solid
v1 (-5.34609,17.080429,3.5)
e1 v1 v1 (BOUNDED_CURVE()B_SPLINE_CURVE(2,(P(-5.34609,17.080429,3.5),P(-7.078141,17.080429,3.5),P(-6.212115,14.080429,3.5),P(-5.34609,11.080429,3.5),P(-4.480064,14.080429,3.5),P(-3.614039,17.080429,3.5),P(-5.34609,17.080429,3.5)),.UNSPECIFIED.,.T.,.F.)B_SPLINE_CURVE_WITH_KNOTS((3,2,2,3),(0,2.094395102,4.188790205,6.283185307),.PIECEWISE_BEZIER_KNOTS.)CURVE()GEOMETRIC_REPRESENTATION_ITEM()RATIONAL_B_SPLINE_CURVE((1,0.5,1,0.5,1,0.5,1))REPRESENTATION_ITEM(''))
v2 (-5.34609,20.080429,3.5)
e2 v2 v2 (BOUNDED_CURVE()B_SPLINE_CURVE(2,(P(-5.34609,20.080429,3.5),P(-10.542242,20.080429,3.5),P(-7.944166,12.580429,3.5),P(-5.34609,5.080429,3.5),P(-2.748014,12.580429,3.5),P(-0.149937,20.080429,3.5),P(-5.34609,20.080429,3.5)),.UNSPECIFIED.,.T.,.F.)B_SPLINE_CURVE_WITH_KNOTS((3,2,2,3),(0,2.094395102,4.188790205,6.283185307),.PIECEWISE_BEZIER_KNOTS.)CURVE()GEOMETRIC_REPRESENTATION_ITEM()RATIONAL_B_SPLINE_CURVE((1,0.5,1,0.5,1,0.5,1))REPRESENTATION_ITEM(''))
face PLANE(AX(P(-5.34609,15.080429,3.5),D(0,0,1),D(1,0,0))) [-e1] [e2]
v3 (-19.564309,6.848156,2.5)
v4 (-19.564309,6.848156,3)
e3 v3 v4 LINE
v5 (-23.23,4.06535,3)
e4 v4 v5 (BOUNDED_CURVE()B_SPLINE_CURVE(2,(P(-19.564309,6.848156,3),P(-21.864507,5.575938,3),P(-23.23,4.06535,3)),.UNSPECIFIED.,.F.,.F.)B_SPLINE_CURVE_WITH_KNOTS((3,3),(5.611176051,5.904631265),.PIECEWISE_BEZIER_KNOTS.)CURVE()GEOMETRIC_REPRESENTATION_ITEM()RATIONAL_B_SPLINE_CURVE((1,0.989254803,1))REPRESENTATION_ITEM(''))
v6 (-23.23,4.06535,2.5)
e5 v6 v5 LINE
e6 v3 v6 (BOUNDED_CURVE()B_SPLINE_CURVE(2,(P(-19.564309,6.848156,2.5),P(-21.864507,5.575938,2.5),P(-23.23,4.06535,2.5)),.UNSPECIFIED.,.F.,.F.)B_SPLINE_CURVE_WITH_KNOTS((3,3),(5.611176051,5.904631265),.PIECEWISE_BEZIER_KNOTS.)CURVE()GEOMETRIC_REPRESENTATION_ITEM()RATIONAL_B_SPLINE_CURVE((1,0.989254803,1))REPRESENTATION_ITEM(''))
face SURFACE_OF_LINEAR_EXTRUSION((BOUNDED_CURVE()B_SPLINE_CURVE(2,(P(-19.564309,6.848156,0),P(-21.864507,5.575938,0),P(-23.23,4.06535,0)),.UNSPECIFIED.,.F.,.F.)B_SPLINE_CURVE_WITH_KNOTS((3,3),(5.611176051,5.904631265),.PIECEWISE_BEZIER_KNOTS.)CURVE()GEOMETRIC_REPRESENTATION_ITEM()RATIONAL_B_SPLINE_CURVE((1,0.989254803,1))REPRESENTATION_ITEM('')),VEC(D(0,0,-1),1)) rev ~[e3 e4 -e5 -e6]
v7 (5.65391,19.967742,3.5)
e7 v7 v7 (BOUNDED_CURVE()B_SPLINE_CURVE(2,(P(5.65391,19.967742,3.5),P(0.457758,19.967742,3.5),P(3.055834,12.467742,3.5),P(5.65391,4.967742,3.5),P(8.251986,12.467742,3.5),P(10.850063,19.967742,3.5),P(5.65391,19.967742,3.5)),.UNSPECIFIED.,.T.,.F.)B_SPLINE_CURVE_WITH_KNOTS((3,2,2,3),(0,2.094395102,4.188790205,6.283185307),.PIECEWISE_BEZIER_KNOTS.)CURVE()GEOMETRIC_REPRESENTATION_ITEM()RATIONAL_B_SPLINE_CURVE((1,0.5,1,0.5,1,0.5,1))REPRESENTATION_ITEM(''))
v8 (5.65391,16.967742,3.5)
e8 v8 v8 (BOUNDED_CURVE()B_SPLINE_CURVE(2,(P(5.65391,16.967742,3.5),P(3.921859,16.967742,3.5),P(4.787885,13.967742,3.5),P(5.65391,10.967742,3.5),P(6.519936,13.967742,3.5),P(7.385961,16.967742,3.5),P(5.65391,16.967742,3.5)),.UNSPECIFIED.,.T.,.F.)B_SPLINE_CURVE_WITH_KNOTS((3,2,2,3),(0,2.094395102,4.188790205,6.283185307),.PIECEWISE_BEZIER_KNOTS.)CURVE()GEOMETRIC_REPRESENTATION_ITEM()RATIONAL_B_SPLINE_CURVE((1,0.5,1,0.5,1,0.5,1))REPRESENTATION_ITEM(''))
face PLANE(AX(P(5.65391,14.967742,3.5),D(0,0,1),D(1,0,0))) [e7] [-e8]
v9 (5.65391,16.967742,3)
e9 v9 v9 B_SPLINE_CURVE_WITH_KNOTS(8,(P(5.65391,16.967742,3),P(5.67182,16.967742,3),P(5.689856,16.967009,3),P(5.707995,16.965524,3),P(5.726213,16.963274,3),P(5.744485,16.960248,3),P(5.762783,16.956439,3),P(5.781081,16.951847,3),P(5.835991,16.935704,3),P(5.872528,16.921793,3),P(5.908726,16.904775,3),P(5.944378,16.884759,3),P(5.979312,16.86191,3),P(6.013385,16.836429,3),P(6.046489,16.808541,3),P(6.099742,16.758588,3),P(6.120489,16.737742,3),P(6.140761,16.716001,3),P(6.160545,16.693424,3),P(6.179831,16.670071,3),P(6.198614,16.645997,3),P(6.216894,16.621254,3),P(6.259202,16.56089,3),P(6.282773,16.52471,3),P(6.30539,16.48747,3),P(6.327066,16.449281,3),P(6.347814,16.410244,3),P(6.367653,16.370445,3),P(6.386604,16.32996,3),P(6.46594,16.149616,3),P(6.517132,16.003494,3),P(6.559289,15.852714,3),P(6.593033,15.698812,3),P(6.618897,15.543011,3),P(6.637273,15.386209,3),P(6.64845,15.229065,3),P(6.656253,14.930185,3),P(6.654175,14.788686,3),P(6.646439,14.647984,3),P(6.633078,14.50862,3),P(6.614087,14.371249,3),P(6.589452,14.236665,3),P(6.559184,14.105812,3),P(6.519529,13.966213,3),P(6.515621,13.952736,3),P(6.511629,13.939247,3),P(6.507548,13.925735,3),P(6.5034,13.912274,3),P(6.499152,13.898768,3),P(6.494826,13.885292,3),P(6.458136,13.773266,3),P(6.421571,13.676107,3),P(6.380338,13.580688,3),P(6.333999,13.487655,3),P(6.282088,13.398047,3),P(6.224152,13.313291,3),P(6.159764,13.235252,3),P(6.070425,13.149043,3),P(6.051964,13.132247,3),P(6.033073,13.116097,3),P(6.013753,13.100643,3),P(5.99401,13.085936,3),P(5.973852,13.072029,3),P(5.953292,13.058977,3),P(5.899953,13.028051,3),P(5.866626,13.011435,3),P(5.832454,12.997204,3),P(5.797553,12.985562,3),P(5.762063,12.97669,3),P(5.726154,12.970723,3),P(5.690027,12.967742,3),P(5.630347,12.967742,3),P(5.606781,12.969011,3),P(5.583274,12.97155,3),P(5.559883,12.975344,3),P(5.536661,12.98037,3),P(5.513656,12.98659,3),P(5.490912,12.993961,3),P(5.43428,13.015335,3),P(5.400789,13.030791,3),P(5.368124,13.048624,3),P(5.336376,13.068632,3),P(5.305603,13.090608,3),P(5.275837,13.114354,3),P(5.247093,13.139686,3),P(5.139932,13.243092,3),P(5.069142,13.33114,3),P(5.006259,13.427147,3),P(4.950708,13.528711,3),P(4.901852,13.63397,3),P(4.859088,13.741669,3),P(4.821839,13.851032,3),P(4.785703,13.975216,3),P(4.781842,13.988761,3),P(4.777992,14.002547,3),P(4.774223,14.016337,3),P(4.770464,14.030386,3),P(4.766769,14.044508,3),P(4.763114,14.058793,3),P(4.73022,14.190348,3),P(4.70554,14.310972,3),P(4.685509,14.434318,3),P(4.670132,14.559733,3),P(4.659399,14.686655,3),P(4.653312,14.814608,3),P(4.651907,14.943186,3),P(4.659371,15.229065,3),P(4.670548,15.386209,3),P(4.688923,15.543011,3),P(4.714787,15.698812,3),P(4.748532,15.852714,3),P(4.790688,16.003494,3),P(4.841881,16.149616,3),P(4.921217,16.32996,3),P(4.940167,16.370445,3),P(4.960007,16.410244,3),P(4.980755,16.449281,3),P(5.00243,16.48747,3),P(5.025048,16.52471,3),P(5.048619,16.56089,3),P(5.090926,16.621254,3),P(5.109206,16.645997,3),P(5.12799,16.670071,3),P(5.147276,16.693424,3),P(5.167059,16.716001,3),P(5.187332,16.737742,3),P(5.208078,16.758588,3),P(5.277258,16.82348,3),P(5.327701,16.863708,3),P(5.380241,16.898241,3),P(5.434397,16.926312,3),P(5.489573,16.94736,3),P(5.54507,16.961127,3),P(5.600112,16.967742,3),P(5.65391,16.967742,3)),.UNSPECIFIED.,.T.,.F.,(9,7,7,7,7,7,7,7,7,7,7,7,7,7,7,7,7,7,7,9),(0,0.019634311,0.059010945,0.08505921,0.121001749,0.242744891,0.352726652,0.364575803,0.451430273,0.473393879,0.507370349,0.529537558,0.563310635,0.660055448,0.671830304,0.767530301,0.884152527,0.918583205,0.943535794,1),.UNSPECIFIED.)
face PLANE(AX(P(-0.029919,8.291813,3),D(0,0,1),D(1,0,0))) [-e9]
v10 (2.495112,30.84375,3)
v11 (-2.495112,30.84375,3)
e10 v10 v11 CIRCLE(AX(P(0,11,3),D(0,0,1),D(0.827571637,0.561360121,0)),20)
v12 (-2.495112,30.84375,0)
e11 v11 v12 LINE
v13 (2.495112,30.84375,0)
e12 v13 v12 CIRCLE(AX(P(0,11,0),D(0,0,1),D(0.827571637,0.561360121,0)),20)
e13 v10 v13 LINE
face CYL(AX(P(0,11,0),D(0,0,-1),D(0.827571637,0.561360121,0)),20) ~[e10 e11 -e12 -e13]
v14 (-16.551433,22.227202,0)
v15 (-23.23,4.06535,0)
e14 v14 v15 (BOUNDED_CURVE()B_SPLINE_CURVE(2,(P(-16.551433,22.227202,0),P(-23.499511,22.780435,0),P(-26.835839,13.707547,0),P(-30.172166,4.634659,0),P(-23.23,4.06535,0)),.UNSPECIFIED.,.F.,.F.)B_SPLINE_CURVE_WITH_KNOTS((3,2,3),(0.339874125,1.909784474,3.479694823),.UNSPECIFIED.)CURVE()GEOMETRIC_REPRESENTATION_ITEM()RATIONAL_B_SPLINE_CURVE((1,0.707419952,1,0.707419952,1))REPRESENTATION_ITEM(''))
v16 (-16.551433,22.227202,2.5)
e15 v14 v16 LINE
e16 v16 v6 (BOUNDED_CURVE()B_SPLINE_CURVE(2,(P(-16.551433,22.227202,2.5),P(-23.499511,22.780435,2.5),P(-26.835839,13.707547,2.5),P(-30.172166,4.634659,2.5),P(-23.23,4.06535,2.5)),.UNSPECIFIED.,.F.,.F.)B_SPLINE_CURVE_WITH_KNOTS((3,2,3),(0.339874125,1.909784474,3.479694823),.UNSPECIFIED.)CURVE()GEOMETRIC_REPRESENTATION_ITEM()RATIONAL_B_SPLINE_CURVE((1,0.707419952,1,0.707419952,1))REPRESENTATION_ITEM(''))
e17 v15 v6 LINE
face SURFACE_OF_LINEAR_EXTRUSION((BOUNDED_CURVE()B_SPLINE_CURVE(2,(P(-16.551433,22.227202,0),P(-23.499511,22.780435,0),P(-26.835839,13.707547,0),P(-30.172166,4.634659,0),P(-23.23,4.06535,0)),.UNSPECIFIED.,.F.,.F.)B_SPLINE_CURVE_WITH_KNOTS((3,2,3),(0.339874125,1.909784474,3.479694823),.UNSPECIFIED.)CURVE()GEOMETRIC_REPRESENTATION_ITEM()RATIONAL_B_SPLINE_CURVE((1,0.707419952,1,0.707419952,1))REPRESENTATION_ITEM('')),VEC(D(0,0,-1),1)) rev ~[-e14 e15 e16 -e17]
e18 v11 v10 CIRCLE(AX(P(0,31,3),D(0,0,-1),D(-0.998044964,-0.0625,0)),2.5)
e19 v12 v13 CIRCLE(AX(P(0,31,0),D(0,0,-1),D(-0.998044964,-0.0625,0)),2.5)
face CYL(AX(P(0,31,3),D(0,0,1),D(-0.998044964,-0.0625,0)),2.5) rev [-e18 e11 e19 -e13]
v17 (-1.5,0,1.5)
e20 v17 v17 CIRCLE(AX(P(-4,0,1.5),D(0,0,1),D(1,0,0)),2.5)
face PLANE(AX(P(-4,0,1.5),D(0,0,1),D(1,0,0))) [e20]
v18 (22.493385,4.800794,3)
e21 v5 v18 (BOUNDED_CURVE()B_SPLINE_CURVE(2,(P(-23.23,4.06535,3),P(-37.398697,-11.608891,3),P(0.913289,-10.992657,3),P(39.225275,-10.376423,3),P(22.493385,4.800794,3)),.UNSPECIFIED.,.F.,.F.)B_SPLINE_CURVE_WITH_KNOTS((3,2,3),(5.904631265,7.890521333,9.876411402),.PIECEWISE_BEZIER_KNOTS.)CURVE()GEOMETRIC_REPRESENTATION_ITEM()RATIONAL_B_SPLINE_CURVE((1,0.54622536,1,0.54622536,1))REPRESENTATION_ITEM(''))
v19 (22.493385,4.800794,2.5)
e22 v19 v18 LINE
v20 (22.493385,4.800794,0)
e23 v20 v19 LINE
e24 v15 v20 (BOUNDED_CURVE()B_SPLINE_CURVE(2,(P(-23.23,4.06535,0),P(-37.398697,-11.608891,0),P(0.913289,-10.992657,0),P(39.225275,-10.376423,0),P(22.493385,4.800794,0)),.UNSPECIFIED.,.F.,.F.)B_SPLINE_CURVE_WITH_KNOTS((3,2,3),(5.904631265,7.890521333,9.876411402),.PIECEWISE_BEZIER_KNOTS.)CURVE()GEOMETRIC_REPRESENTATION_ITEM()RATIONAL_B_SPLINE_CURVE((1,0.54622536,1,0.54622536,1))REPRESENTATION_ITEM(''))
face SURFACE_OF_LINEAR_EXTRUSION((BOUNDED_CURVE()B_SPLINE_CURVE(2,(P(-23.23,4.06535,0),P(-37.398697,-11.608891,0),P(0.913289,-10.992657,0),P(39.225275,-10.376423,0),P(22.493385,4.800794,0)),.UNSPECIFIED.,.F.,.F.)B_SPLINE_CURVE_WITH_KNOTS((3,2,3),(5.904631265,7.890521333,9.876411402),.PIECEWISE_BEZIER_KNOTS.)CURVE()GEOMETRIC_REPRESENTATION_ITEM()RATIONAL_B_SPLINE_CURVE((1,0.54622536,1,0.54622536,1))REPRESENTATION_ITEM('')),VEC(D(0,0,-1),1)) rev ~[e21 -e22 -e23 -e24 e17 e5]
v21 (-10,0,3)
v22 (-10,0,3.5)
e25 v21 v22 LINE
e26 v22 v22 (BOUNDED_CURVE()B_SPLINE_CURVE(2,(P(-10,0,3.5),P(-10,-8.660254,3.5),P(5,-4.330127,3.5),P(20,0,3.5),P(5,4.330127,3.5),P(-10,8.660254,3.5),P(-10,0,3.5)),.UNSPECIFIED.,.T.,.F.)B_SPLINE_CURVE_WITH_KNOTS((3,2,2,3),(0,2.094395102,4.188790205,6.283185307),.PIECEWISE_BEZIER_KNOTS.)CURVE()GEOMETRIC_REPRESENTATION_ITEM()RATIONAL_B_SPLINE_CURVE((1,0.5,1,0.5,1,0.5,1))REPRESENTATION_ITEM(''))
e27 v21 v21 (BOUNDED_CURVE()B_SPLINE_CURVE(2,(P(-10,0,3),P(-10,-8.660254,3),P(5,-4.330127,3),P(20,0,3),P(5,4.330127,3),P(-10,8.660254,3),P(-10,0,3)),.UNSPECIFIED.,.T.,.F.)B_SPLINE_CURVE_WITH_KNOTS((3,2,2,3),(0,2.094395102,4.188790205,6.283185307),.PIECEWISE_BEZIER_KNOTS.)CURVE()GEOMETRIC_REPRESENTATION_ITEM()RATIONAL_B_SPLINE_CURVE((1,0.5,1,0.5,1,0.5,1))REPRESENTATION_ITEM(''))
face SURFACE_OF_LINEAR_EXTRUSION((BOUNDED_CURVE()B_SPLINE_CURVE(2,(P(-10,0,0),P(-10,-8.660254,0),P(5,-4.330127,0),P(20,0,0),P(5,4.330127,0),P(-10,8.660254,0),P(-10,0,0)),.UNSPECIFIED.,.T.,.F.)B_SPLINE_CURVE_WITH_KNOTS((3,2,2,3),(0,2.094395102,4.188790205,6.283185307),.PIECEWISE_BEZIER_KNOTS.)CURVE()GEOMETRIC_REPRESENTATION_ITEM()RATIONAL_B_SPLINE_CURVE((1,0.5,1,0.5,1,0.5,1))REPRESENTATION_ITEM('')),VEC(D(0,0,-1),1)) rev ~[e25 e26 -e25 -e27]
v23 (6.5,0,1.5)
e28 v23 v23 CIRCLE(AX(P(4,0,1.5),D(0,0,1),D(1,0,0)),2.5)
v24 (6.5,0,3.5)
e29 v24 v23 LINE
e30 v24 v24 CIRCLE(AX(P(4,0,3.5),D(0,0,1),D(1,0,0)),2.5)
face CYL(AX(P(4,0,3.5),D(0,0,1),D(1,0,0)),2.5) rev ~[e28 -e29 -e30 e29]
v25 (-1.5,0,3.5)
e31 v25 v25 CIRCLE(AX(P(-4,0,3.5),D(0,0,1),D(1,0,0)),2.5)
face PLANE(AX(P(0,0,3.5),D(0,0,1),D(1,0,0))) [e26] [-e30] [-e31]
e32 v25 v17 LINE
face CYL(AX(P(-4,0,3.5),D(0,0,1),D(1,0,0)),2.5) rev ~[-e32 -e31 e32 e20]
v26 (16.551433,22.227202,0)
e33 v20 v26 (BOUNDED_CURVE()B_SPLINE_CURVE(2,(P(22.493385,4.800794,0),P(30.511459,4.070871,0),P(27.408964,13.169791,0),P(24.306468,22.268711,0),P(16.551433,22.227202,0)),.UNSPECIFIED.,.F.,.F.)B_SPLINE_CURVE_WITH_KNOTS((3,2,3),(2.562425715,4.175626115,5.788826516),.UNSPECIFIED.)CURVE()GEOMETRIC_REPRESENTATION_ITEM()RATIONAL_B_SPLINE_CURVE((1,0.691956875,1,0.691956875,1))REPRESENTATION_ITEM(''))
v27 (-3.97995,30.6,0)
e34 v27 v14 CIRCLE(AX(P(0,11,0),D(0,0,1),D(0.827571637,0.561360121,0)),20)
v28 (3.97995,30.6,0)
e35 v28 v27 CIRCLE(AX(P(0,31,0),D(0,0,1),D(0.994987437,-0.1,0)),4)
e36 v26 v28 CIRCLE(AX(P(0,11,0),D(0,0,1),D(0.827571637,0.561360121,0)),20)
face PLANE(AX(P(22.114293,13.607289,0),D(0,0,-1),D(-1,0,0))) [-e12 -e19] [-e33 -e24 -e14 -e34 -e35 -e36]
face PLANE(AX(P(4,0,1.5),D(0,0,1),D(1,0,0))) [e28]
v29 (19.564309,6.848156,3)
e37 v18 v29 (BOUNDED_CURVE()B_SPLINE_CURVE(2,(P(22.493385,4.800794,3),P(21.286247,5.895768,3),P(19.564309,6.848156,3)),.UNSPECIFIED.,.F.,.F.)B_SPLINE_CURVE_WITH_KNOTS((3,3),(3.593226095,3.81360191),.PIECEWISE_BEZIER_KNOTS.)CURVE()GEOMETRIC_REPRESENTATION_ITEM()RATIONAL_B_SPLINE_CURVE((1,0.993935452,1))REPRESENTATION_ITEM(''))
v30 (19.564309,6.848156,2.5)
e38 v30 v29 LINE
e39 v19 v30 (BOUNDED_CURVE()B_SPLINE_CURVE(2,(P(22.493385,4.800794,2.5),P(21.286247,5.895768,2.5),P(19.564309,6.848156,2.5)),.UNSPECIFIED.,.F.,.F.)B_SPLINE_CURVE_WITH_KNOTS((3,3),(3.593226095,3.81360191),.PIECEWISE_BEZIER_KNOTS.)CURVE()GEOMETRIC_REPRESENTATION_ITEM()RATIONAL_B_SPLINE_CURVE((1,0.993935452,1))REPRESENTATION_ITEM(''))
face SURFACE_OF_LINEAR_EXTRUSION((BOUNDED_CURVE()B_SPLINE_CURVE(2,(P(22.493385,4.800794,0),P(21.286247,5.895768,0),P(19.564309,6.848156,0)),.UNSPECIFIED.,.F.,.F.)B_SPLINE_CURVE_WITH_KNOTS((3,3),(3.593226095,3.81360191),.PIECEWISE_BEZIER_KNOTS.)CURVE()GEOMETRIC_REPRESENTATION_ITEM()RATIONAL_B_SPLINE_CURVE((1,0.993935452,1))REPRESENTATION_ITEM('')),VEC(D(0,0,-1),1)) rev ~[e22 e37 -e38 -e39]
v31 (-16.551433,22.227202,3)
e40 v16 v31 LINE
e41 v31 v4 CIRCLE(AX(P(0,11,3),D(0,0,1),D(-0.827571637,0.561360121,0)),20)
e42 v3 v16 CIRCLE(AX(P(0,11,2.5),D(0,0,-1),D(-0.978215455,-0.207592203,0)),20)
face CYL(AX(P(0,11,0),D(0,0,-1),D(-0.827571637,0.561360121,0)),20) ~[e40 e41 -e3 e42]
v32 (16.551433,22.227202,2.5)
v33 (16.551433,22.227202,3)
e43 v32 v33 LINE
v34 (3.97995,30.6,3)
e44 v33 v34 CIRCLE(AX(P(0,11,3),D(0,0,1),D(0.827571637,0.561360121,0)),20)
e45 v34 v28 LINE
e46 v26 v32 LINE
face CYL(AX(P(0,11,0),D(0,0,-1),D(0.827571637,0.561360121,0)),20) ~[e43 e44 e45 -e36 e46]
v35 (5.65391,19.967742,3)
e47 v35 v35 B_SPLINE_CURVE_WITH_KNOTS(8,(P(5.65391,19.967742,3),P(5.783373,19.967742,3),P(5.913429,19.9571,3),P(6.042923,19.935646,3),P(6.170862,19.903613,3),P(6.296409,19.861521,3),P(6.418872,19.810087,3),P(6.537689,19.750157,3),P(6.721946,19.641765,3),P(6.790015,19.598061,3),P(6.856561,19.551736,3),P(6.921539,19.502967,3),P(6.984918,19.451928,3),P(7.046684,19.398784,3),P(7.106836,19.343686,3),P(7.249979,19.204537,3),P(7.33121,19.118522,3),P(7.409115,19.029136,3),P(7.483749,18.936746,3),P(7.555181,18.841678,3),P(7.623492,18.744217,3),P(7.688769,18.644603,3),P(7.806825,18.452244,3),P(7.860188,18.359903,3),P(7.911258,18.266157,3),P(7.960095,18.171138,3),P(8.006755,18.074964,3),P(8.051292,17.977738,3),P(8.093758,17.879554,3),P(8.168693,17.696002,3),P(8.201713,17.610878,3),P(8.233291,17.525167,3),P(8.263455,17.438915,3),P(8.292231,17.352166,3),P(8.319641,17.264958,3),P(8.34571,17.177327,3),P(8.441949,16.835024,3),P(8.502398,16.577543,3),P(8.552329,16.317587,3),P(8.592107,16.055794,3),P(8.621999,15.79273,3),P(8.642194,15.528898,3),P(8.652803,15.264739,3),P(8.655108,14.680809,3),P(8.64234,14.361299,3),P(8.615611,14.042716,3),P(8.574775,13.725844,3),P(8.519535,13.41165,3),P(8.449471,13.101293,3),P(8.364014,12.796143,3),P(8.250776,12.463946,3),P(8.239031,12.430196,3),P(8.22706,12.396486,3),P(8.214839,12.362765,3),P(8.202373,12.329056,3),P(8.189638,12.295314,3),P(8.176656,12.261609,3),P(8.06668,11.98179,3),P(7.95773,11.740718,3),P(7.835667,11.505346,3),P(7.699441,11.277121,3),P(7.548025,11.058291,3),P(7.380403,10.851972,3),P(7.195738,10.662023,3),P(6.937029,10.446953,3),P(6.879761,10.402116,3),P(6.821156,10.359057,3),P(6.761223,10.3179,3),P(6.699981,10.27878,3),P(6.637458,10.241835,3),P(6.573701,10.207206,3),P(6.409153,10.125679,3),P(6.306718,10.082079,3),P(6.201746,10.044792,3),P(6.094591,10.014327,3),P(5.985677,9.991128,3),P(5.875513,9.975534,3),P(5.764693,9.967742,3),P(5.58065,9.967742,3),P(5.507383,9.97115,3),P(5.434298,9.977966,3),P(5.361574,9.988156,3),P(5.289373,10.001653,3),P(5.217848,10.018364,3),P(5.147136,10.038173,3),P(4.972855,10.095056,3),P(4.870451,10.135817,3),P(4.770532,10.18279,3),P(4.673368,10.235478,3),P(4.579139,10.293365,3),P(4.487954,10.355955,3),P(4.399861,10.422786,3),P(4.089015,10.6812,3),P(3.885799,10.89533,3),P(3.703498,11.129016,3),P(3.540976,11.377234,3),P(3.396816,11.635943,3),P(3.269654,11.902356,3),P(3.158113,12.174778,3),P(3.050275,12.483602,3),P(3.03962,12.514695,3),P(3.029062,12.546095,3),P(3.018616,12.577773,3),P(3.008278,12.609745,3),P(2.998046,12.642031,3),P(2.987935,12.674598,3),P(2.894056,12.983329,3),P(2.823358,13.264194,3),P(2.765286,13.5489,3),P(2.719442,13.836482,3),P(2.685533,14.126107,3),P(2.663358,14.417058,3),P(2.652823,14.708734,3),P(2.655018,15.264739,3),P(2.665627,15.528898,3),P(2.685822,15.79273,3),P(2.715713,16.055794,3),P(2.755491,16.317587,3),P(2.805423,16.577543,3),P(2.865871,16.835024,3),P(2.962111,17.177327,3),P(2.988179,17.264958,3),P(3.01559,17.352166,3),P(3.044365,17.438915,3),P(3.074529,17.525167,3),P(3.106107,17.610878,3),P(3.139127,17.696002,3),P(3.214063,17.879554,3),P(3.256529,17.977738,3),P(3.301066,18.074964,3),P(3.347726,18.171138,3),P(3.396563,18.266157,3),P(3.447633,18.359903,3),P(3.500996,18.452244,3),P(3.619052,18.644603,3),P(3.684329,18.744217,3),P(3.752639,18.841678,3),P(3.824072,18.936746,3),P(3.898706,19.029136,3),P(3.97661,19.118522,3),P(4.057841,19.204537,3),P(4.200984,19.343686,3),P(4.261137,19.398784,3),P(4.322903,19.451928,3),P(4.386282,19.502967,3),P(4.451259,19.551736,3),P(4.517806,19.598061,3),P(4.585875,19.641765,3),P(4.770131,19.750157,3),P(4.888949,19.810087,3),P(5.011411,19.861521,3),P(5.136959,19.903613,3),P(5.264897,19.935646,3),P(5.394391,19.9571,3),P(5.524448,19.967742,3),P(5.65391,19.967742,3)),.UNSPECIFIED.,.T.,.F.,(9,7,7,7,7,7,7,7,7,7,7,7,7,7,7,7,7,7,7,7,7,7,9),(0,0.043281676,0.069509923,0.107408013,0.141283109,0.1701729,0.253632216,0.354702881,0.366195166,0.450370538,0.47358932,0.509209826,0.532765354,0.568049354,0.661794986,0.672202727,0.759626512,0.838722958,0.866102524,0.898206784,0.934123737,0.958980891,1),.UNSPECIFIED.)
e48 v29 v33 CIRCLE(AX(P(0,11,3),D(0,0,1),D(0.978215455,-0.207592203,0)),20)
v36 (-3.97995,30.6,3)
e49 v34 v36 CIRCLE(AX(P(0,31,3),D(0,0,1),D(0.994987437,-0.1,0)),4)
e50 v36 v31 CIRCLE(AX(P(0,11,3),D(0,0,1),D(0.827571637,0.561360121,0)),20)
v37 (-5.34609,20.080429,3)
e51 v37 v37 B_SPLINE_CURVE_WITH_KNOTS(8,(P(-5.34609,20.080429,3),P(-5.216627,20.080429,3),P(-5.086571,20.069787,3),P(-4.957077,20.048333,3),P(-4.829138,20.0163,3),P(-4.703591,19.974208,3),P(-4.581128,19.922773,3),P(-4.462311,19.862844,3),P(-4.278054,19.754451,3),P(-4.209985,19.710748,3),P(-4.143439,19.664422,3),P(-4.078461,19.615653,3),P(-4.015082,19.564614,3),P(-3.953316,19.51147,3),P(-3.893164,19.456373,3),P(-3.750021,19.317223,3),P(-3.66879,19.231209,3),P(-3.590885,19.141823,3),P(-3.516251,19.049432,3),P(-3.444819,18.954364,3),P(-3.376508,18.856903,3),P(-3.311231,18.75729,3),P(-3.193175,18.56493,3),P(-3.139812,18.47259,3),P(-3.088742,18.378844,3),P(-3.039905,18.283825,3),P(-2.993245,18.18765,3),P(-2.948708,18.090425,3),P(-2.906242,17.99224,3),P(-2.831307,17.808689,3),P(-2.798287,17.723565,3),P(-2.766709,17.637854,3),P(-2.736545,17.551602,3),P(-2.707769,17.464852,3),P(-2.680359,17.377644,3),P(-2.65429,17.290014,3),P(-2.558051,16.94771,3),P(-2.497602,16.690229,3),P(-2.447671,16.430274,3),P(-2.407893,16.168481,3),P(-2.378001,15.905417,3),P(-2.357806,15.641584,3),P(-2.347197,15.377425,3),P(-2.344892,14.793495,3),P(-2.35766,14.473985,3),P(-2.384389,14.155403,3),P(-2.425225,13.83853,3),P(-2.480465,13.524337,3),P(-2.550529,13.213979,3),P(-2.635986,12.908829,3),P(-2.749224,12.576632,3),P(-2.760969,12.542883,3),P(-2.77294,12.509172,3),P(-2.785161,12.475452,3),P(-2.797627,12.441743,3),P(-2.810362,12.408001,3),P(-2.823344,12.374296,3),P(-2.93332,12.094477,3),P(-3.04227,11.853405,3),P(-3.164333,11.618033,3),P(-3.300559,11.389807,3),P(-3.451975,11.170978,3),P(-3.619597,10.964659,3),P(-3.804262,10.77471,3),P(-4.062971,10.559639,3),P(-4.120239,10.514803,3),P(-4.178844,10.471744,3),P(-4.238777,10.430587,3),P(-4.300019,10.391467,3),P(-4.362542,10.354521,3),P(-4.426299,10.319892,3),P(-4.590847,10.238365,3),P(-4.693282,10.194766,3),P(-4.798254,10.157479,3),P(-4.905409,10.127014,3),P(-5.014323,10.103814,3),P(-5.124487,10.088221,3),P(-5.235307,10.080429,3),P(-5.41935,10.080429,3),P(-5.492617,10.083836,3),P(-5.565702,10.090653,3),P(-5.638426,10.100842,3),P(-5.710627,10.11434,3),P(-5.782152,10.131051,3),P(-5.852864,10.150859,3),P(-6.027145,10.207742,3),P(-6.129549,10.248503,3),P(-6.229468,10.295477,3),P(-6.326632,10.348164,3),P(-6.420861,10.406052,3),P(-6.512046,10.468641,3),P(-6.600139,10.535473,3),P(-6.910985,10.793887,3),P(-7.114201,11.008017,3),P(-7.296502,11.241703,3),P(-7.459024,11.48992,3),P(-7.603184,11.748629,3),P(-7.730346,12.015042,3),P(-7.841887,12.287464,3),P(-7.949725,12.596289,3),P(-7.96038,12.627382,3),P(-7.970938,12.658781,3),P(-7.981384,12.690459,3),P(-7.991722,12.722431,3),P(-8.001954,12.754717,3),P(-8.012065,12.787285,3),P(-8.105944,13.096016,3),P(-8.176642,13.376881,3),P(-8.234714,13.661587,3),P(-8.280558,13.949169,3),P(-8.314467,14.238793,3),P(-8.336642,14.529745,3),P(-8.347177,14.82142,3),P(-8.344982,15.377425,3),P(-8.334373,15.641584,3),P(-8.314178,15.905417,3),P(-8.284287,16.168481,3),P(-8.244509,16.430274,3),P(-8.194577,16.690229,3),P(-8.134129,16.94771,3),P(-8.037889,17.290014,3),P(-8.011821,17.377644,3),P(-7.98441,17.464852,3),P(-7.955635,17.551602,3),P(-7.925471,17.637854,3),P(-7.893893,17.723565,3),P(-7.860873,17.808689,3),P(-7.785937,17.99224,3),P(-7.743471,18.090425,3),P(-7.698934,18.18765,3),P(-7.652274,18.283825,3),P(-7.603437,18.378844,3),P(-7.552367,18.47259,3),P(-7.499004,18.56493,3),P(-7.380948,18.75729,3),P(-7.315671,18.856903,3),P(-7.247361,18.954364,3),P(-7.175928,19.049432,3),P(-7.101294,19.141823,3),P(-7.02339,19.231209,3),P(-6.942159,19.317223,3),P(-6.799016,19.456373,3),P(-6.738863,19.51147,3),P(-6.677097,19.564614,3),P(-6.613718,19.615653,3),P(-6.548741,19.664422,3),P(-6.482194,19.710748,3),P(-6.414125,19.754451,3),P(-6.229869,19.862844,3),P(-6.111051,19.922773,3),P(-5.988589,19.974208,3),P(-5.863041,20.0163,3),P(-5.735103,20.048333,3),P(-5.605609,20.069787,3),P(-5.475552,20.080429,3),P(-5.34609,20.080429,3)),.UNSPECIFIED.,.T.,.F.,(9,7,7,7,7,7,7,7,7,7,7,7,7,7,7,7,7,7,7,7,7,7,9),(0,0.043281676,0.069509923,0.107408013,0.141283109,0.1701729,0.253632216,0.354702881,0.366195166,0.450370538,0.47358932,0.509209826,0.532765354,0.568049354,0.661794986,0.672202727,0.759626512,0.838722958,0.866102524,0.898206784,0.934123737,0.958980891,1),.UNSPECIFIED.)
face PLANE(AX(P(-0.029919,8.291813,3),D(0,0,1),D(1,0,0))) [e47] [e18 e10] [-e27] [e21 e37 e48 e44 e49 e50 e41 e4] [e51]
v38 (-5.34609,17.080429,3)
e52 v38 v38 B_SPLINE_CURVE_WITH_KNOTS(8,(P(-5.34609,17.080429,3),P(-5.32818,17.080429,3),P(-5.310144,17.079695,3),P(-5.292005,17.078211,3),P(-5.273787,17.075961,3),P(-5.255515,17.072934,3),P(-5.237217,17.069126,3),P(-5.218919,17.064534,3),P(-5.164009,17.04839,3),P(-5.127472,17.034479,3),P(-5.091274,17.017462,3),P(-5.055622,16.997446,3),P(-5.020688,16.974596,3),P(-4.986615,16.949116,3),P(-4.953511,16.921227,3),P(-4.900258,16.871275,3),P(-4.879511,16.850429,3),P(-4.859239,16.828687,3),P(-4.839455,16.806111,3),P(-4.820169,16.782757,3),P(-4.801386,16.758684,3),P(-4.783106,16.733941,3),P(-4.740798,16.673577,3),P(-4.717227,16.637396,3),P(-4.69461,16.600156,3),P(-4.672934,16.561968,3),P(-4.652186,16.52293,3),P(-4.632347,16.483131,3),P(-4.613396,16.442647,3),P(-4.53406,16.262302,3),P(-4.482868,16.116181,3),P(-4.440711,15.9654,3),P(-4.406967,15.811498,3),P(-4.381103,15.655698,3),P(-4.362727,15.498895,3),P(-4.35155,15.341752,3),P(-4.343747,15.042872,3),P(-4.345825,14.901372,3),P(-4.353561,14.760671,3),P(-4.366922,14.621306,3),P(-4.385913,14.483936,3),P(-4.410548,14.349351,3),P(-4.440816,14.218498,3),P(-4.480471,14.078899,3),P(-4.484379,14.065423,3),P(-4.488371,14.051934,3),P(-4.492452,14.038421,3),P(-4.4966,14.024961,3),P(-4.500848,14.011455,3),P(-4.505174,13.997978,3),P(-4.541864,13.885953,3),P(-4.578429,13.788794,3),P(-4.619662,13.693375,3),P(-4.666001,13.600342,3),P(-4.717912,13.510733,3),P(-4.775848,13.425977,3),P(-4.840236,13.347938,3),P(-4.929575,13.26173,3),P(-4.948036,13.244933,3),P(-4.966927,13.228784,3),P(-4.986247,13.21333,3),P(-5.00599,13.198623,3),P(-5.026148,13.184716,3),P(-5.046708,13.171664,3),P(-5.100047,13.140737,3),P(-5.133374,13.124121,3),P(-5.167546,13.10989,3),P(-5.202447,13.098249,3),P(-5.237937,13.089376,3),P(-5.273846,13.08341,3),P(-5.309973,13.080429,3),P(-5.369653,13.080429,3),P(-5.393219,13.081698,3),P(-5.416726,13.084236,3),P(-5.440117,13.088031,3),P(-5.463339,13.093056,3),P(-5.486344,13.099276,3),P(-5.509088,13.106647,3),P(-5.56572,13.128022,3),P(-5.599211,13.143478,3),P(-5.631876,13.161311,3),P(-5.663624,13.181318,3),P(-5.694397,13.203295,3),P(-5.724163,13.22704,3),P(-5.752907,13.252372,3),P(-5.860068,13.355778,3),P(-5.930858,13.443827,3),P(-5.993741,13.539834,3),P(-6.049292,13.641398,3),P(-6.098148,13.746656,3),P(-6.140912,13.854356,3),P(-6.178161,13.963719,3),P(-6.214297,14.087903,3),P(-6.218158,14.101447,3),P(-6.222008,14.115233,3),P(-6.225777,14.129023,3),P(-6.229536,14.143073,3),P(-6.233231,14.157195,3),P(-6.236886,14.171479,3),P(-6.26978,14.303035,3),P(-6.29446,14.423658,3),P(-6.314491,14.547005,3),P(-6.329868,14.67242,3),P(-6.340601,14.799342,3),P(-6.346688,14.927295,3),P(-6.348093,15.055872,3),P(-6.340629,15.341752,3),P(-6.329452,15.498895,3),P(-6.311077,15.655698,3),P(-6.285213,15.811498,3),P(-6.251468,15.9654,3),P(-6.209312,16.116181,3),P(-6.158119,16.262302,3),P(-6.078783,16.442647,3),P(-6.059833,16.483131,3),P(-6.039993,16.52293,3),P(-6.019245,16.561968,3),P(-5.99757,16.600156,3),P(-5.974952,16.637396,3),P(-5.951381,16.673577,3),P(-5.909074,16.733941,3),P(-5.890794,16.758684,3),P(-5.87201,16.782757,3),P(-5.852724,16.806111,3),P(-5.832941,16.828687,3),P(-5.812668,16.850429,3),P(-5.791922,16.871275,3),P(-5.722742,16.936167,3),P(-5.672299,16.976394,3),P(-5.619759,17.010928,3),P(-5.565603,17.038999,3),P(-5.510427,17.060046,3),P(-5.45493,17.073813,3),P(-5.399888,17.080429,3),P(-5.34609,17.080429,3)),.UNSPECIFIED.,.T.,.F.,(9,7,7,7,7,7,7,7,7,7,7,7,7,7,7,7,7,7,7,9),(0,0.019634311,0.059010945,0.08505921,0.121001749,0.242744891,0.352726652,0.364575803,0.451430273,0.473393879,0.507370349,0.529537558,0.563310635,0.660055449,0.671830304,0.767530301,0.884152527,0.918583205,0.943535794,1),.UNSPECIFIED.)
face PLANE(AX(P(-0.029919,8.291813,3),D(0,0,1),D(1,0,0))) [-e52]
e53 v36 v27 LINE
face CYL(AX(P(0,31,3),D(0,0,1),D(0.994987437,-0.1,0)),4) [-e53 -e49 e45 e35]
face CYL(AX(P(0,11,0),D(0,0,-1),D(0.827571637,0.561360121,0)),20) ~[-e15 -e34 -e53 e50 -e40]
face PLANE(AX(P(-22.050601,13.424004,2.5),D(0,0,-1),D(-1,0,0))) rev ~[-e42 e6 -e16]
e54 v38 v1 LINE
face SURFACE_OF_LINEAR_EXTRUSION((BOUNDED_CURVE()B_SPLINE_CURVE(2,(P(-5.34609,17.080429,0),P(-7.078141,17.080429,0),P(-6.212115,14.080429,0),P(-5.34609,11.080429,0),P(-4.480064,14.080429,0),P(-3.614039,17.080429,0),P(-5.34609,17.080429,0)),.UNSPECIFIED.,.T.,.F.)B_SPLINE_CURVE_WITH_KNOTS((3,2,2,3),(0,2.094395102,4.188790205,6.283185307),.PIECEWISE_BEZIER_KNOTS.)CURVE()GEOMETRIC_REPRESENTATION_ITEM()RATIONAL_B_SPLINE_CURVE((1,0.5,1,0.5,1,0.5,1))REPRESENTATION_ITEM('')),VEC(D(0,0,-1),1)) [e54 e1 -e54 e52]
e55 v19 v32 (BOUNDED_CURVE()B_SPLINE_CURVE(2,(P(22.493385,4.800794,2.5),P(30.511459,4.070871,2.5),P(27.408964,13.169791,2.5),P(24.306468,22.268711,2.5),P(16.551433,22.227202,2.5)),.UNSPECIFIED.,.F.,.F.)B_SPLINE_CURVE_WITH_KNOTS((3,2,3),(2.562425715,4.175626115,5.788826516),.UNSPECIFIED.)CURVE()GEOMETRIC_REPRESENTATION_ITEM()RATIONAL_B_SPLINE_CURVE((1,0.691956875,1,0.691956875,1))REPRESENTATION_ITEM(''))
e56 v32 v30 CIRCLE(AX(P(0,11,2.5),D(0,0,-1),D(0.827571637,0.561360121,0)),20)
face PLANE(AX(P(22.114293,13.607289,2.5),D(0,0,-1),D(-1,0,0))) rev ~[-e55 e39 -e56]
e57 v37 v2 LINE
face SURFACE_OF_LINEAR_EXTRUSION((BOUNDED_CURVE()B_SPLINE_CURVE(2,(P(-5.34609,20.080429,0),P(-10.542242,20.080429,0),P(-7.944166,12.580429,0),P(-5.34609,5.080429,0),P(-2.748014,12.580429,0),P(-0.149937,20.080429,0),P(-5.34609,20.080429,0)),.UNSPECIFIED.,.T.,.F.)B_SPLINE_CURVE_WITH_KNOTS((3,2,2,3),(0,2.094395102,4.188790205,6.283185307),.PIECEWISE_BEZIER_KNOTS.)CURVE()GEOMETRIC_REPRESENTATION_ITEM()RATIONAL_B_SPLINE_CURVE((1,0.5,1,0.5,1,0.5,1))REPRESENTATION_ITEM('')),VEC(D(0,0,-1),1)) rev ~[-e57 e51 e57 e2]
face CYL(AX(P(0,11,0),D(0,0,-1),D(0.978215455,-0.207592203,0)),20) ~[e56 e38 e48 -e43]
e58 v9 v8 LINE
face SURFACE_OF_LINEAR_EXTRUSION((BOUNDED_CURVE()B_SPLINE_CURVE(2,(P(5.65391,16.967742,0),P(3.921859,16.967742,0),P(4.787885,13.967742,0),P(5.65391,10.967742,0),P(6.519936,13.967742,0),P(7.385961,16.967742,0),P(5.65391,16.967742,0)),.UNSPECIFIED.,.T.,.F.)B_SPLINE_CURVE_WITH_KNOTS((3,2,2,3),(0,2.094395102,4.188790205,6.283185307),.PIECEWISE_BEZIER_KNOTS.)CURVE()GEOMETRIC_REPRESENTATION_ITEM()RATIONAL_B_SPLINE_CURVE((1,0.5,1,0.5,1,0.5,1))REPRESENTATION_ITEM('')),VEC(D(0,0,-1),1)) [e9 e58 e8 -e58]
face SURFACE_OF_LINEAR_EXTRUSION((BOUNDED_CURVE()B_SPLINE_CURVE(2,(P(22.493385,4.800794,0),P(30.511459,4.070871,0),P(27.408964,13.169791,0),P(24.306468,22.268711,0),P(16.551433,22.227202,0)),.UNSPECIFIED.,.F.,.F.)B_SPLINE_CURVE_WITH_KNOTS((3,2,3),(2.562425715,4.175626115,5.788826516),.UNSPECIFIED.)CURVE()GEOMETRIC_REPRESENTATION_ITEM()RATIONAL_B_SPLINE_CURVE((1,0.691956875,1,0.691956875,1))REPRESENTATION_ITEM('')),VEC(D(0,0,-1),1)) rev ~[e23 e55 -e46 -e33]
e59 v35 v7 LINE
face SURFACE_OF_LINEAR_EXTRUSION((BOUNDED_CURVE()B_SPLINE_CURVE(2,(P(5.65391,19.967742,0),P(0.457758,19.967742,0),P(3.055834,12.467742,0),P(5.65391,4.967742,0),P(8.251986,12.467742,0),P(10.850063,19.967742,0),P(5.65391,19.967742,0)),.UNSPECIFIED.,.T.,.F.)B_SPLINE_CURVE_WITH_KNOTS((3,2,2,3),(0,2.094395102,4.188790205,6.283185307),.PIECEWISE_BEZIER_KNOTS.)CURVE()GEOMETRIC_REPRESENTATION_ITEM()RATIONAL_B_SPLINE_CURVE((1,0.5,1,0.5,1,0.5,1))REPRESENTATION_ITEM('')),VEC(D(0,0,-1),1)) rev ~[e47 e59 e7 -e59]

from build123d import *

# Parameters (mm, degrees)
F2_DEPTH  = 3
F3_DEPTH  = 3.5
F4_DEPTH  = 2.5
F6_DEPTH  = 3.5
F7_DEPTH  = 1
F8_R      = 2.5
F9_DEPTH  = 2
F11_DEPTH = 3


with BuildPart() as f2:
    # F0 (on Top) → F2 (new body)
    with BuildSketch(Plane.XY):
        with BuildLine():
            ThreePointArc((-16.5514327476, 22.2272024121), (-19.6269067874, 14.845065664), (-19.5643091096, 6.8481559441))
            add(Edge.make_bspline(
                [(-19.5643091096, 6.8481559441), (-21.8645069568, 5.5759382833), (-23.23, 4.0653499923)],
                knots=[5.6111760506, 5.6111760506, 5.6111760506, 5.9046312652, 5.9046312652, 5.9046312652], degree=2, weights=[1, 0.9892548032, 1]))
            add(Edge.make_bspline(
                [(-23.23, 4.0653499923), (-37.3986969508, -11.6088914976), (0.9132892277, -10.992657494), (39.2252754062, -10.3764234903), (22.4933852711, 4.8007935852)],
                knots=[5.9046312652, 5.9046312652, 5.9046312652, 7.8905213335, 7.8905213335, 9.8764114018, 9.8764114018, 9.8764114018], degree=2, weights=[1, 0.5462253596, 1, 0.5462253596, 1]))
            add(Edge.make_bspline(
                [(22.4933852711, 4.8007935852), (21.2862472359, 5.8957682624), (19.5643091096, 6.8481559441)],
                knots=[3.5932260947, 3.5932260947, 3.5932260947, 3.8136019101, 3.8136019101, 3.8136019101], degree=2, weights=[1, 0.9939354522, 1]))
            ThreePointArc((19.5643091096, 6.8481559441), (19.6269067874, 14.845065664), (16.5514327476, 22.2272024121))
            ThreePointArc((16.5514327476, 22.2272024121), (0, 31), (-16.5514327476, 22.2272024121))
        make_face()
        with BuildLine():
            add(Edge.make_bspline(
                [(-10, 0), (-10, -8.6602540378), (5, -4.3301270189), (20, 0), (5, 4.3301270189), (-10, 8.6602540378), (-10, 0)],
                knots=[0, 0, 0, 2.0943951024, 2.0943951024, 4.1887902048, 4.1887902048, 6.2831853072, 6.2831853072, 6.2831853072], degree=2, weights=[1, 0.5, 1, 0.5, 1, 0.5, 1]))
        make_face(mode=Mode.SUBTRACT)
    extrude(amount=F2_DEPTH)

    # F1 (on Top) → F3 (join)
    with BuildSketch(Plane.XY):
        with BuildLine():
            add(Edge.make_bspline(
                [(5.653910271, 19.9677419355), (0.4577578483, 19.9677419355), (3.0558340597, 12.4677419355), (5.653910271, 4.9677419355), (8.2519864824, 12.4677419355), (10.8500626937, 19.9677419355), (5.653910271, 19.9677419355)],
                knots=[0, 0, 0, 2.0943951024, 2.0943951024, 4.1887902048, 4.1887902048, 6.2831853072, 6.2831853072, 6.2831853072], degree=2, weights=[1, 0.5, 1, 0.5, 1, 0.5, 1]))
        make_face()
        with BuildLine():
            add(Edge.make_bspline(
                [(5.653910271, 16.9677419355), (3.9218594635, 16.9677419355), (4.7878848672, 13.9677419355), (5.653910271, 10.9677419355), (6.5199356748, 13.9677419355), (7.3859610786, 16.9677419355), (5.653910271, 16.9677419355)],
                knots=[0, 0, 0, 2.0943951024, 2.0943951024, 4.1887902048, 4.1887902048, 6.2831853072, 6.2831853072, 6.2831853072], degree=2, weights=[1, 0.5, 1, 0.5, 1, 0.5, 1]))
        make_face(mode=Mode.SUBTRACT)
        with BuildLine():
            add(Edge.make_bspline(
                [(-5.346089729, 20.0804285287), (-10.5422421517, 20.0804285287), (-7.9441659403, 12.5804285287), (-5.346089729, 5.0804285287), (-2.7480135176, 12.5804285287), (-0.1499373063, 20.0804285287), (-5.346089729, 20.0804285287)],
                knots=[0, 0, 0, 2.0943951024, 2.0943951024, 4.1887902048, 4.1887902048, 6.2831853072, 6.2831853072, 6.2831853072], degree=2, weights=[1, 0.5, 1, 0.5, 1, 0.5, 1]))
        make_face()
        with BuildLine():
            add(Edge.make_bspline(
                [(-5.346089729, 17.0804285287), (-7.0781405365, 17.0804285287), (-6.2121151328, 14.0804285287), (-5.346089729, 11.0804285287), (-4.4800643252, 14.0804285287), (-3.6140389214, 17.0804285287), (-5.346089729, 17.0804285287)],
                knots=[0, 0, 0, 2.0943951024, 2.0943951024, 4.1887902048, 4.1887902048, 6.2831853072, 6.2831853072, 6.2831853072], degree=2, weights=[1, 0.5, 1, 0.5, 1, 0.5, 1]))
        make_face(mode=Mode.SUBTRACT)
    extrude(amount=F3_DEPTH)

    # F0 (on Top) → F4 (join)
    with BuildSketch(Plane.XY):
        with BuildLine():
            add(Edge.make_bspline(
                [(22.4933852711, 4.8007935852), (21.2862472359, 5.8957682624), (19.5643091096, 6.8481559441)],
                knots=[3.5932260947, 3.5932260947, 3.5932260947, 3.8136019101, 3.8136019101, 3.8136019101], degree=2, weights=[1, 0.9939354522, 1]))
            add(Edge.make_bspline(
                [(22.4933852711, 4.8007935852), (30.5114588738, 4.0708712152), (27.4089635962, 13.1697912888), (24.3064683185, 22.2687113623), (16.5514327476, 22.2272024121)],
                knots=[2.5624257149, 2.5624257149, 2.5624257149, 4.1756261153, 4.1756261153, 5.7888265158, 5.7888265158, 5.7888265158], degree=2, weights=[1, 0.6919568747, 1, 0.6919568747, 1]))
            ThreePointArc((16.5514327476, 22.2272024121), (19.6269067874, 14.845065664), (19.5643091096, 6.8481559441))
        make_face()
        with BuildLine():
            add(Edge.make_bspline(
                [(-19.5643091096, 6.8481559441), (-21.8645069568, 5.5759382833), (-23.23, 4.0653499923)],
                knots=[5.6111760506, 5.6111760506, 5.6111760506, 5.9046312652, 5.9046312652, 5.9046312652], degree=2, weights=[1, 0.9892548032, 1]))
            ThreePointArc((-19.5643091096, 6.8481559441), (-19.6269067874, 14.845065664), (-16.5514327476, 22.2272024121))
            add(Edge.make_bspline(
                [(-16.5514327476, 22.2272024121), (-23.4995108928, 22.7804351501), (-26.8358386071, 13.7075473165), (-30.1721663213, 4.6346594829), (-23.23, 4.0653499923)],
                knots=[0.3398741253, 0.3398741253, 0.3398741253, 1.9097844743, 1.9097844743, 3.4796948232, 3.4796948232, 3.4796948232], degree=2, weights=[1, 0.7074199523, 1, 0.7074199523, 1]))
        make_face()
    extrude(amount=F4_DEPTH)

    # F5 (on Top) → F6 (join)
    with BuildSketch(Plane.XY):
        with BuildLine():
            add(Edge.make_bspline(
                [(-10, 0), (-10, -8.6602540378), (5, -4.3301270189), (20, 0), (5, 4.3301270189), (-10, 8.6602540378), (-10, 0)],
                knots=[0, 0, 0, 2.0943951024, 2.0943951024, 4.1887902048, 4.1887902048, 6.2831853072, 6.2831853072, 6.2831853072], degree=2, weights=[1, 0.5, 1, 0.5, 1, 0.5, 1]))
        make_face()
    extrude(amount=F6_DEPTH)

    # F1 (on Top) → F7 (join)
    with BuildSketch(Plane.XY):
        with BuildLine():
            add(Edge.make_bspline(
                [(5.653910271, 19.9677419355), (0.4577578483, 19.9677419355), (3.0558340597, 12.4677419355), (5.653910271, 4.9677419355), (8.2519864824, 12.4677419355), (10.8500626937, 19.9677419355), (5.653910271, 19.9677419355)],
                knots=[0, 0, 0, 2.0943951024, 2.0943951024, 4.1887902048, 4.1887902048, 6.2831853072, 6.2831853072, 6.2831853072], degree=2, weights=[1, 0.5, 1, 0.5, 1, 0.5, 1]))
        make_face()
        with BuildLine():
            add(Edge.make_bspline(
                [(5.653910271, 16.9677419355), (3.9218594635, 16.9677419355), (4.7878848672, 13.9677419355), (5.653910271, 10.9677419355), (6.5199356748, 13.9677419355), (7.3859610786, 16.9677419355), (5.653910271, 16.9677419355)],
                knots=[0, 0, 0, 2.0943951024, 2.0943951024, 4.1887902048, 4.1887902048, 6.2831853072, 6.2831853072, 6.2831853072], degree=2, weights=[1, 0.5, 1, 0.5, 1, 0.5, 1]))
        make_face(mode=Mode.SUBTRACT)
        with BuildLine():
            add(Edge.make_bspline(
                [(-5.346089729, 20.0804285287), (-10.5422421517, 20.0804285287), (-7.9441659403, 12.5804285287), (-5.346089729, 5.0804285287), (-2.7480135176, 12.5804285287), (-0.1499373063, 20.0804285287), (-5.346089729, 20.0804285287)],
                knots=[0, 0, 0, 2.0943951024, 2.0943951024, 4.1887902048, 4.1887902048, 6.2831853072, 6.2831853072, 6.2831853072], degree=2, weights=[1, 0.5, 1, 0.5, 1, 0.5, 1]))
        make_face()
        with BuildLine():
            add(Edge.make_bspline(
                [(-5.346089729, 17.0804285287), (-7.0781405365, 17.0804285287), (-6.2121151328, 14.0804285287), (-5.346089729, 11.0804285287), (-4.4800643252, 14.0804285287), (-3.6140389214, 17.0804285287), (-5.346089729, 17.0804285287)],
                knots=[0, 0, 0, 2.0943951024, 2.0943951024, 4.1887902048, 4.1887902048, 6.2831853072, 6.2831853072, 6.2831853072], degree=2, weights=[1, 0.5, 1, 0.5, 1, 0.5, 1]))
        make_face(mode=Mode.SUBTRACT)
    extrude(amount=F7_DEPTH)

    # F8 (on face) → F9 (cut)
    with BuildSketch(Plane.XY.offset(3.5)):
        with Locations((-4, 0)):
            Circle(F8_R)
        with Locations((4, 0)):
            Circle(F8_R)
    extrude(amount=-F9_DEPTH, mode=Mode.SUBTRACT)

    # F10 (on face) → F11 (join)
    with BuildSketch(Plane.XY.offset(3)):
        with BuildLine():
            ThreePointArc((-2.4951124098, 30.84375), (0, 33.5), (2.4951124098, 30.84375))
            ThreePointArc((2.4951124098, 30.84375), (3.2398242242, 30.7358440153), (3.9799497484, 30.6))
            ThreePointArc((3.9799497484, 30.6), (0, 35), (-3.9799497484, 30.6))
            ThreePointArc((-3.9799497484, 30.6), (-3.2398242242, 30.7358440153), (-2.4951124098, 30.84375))
        make_face()
    extrude(amount=-F11_DEPTH)


solid = f2.part
